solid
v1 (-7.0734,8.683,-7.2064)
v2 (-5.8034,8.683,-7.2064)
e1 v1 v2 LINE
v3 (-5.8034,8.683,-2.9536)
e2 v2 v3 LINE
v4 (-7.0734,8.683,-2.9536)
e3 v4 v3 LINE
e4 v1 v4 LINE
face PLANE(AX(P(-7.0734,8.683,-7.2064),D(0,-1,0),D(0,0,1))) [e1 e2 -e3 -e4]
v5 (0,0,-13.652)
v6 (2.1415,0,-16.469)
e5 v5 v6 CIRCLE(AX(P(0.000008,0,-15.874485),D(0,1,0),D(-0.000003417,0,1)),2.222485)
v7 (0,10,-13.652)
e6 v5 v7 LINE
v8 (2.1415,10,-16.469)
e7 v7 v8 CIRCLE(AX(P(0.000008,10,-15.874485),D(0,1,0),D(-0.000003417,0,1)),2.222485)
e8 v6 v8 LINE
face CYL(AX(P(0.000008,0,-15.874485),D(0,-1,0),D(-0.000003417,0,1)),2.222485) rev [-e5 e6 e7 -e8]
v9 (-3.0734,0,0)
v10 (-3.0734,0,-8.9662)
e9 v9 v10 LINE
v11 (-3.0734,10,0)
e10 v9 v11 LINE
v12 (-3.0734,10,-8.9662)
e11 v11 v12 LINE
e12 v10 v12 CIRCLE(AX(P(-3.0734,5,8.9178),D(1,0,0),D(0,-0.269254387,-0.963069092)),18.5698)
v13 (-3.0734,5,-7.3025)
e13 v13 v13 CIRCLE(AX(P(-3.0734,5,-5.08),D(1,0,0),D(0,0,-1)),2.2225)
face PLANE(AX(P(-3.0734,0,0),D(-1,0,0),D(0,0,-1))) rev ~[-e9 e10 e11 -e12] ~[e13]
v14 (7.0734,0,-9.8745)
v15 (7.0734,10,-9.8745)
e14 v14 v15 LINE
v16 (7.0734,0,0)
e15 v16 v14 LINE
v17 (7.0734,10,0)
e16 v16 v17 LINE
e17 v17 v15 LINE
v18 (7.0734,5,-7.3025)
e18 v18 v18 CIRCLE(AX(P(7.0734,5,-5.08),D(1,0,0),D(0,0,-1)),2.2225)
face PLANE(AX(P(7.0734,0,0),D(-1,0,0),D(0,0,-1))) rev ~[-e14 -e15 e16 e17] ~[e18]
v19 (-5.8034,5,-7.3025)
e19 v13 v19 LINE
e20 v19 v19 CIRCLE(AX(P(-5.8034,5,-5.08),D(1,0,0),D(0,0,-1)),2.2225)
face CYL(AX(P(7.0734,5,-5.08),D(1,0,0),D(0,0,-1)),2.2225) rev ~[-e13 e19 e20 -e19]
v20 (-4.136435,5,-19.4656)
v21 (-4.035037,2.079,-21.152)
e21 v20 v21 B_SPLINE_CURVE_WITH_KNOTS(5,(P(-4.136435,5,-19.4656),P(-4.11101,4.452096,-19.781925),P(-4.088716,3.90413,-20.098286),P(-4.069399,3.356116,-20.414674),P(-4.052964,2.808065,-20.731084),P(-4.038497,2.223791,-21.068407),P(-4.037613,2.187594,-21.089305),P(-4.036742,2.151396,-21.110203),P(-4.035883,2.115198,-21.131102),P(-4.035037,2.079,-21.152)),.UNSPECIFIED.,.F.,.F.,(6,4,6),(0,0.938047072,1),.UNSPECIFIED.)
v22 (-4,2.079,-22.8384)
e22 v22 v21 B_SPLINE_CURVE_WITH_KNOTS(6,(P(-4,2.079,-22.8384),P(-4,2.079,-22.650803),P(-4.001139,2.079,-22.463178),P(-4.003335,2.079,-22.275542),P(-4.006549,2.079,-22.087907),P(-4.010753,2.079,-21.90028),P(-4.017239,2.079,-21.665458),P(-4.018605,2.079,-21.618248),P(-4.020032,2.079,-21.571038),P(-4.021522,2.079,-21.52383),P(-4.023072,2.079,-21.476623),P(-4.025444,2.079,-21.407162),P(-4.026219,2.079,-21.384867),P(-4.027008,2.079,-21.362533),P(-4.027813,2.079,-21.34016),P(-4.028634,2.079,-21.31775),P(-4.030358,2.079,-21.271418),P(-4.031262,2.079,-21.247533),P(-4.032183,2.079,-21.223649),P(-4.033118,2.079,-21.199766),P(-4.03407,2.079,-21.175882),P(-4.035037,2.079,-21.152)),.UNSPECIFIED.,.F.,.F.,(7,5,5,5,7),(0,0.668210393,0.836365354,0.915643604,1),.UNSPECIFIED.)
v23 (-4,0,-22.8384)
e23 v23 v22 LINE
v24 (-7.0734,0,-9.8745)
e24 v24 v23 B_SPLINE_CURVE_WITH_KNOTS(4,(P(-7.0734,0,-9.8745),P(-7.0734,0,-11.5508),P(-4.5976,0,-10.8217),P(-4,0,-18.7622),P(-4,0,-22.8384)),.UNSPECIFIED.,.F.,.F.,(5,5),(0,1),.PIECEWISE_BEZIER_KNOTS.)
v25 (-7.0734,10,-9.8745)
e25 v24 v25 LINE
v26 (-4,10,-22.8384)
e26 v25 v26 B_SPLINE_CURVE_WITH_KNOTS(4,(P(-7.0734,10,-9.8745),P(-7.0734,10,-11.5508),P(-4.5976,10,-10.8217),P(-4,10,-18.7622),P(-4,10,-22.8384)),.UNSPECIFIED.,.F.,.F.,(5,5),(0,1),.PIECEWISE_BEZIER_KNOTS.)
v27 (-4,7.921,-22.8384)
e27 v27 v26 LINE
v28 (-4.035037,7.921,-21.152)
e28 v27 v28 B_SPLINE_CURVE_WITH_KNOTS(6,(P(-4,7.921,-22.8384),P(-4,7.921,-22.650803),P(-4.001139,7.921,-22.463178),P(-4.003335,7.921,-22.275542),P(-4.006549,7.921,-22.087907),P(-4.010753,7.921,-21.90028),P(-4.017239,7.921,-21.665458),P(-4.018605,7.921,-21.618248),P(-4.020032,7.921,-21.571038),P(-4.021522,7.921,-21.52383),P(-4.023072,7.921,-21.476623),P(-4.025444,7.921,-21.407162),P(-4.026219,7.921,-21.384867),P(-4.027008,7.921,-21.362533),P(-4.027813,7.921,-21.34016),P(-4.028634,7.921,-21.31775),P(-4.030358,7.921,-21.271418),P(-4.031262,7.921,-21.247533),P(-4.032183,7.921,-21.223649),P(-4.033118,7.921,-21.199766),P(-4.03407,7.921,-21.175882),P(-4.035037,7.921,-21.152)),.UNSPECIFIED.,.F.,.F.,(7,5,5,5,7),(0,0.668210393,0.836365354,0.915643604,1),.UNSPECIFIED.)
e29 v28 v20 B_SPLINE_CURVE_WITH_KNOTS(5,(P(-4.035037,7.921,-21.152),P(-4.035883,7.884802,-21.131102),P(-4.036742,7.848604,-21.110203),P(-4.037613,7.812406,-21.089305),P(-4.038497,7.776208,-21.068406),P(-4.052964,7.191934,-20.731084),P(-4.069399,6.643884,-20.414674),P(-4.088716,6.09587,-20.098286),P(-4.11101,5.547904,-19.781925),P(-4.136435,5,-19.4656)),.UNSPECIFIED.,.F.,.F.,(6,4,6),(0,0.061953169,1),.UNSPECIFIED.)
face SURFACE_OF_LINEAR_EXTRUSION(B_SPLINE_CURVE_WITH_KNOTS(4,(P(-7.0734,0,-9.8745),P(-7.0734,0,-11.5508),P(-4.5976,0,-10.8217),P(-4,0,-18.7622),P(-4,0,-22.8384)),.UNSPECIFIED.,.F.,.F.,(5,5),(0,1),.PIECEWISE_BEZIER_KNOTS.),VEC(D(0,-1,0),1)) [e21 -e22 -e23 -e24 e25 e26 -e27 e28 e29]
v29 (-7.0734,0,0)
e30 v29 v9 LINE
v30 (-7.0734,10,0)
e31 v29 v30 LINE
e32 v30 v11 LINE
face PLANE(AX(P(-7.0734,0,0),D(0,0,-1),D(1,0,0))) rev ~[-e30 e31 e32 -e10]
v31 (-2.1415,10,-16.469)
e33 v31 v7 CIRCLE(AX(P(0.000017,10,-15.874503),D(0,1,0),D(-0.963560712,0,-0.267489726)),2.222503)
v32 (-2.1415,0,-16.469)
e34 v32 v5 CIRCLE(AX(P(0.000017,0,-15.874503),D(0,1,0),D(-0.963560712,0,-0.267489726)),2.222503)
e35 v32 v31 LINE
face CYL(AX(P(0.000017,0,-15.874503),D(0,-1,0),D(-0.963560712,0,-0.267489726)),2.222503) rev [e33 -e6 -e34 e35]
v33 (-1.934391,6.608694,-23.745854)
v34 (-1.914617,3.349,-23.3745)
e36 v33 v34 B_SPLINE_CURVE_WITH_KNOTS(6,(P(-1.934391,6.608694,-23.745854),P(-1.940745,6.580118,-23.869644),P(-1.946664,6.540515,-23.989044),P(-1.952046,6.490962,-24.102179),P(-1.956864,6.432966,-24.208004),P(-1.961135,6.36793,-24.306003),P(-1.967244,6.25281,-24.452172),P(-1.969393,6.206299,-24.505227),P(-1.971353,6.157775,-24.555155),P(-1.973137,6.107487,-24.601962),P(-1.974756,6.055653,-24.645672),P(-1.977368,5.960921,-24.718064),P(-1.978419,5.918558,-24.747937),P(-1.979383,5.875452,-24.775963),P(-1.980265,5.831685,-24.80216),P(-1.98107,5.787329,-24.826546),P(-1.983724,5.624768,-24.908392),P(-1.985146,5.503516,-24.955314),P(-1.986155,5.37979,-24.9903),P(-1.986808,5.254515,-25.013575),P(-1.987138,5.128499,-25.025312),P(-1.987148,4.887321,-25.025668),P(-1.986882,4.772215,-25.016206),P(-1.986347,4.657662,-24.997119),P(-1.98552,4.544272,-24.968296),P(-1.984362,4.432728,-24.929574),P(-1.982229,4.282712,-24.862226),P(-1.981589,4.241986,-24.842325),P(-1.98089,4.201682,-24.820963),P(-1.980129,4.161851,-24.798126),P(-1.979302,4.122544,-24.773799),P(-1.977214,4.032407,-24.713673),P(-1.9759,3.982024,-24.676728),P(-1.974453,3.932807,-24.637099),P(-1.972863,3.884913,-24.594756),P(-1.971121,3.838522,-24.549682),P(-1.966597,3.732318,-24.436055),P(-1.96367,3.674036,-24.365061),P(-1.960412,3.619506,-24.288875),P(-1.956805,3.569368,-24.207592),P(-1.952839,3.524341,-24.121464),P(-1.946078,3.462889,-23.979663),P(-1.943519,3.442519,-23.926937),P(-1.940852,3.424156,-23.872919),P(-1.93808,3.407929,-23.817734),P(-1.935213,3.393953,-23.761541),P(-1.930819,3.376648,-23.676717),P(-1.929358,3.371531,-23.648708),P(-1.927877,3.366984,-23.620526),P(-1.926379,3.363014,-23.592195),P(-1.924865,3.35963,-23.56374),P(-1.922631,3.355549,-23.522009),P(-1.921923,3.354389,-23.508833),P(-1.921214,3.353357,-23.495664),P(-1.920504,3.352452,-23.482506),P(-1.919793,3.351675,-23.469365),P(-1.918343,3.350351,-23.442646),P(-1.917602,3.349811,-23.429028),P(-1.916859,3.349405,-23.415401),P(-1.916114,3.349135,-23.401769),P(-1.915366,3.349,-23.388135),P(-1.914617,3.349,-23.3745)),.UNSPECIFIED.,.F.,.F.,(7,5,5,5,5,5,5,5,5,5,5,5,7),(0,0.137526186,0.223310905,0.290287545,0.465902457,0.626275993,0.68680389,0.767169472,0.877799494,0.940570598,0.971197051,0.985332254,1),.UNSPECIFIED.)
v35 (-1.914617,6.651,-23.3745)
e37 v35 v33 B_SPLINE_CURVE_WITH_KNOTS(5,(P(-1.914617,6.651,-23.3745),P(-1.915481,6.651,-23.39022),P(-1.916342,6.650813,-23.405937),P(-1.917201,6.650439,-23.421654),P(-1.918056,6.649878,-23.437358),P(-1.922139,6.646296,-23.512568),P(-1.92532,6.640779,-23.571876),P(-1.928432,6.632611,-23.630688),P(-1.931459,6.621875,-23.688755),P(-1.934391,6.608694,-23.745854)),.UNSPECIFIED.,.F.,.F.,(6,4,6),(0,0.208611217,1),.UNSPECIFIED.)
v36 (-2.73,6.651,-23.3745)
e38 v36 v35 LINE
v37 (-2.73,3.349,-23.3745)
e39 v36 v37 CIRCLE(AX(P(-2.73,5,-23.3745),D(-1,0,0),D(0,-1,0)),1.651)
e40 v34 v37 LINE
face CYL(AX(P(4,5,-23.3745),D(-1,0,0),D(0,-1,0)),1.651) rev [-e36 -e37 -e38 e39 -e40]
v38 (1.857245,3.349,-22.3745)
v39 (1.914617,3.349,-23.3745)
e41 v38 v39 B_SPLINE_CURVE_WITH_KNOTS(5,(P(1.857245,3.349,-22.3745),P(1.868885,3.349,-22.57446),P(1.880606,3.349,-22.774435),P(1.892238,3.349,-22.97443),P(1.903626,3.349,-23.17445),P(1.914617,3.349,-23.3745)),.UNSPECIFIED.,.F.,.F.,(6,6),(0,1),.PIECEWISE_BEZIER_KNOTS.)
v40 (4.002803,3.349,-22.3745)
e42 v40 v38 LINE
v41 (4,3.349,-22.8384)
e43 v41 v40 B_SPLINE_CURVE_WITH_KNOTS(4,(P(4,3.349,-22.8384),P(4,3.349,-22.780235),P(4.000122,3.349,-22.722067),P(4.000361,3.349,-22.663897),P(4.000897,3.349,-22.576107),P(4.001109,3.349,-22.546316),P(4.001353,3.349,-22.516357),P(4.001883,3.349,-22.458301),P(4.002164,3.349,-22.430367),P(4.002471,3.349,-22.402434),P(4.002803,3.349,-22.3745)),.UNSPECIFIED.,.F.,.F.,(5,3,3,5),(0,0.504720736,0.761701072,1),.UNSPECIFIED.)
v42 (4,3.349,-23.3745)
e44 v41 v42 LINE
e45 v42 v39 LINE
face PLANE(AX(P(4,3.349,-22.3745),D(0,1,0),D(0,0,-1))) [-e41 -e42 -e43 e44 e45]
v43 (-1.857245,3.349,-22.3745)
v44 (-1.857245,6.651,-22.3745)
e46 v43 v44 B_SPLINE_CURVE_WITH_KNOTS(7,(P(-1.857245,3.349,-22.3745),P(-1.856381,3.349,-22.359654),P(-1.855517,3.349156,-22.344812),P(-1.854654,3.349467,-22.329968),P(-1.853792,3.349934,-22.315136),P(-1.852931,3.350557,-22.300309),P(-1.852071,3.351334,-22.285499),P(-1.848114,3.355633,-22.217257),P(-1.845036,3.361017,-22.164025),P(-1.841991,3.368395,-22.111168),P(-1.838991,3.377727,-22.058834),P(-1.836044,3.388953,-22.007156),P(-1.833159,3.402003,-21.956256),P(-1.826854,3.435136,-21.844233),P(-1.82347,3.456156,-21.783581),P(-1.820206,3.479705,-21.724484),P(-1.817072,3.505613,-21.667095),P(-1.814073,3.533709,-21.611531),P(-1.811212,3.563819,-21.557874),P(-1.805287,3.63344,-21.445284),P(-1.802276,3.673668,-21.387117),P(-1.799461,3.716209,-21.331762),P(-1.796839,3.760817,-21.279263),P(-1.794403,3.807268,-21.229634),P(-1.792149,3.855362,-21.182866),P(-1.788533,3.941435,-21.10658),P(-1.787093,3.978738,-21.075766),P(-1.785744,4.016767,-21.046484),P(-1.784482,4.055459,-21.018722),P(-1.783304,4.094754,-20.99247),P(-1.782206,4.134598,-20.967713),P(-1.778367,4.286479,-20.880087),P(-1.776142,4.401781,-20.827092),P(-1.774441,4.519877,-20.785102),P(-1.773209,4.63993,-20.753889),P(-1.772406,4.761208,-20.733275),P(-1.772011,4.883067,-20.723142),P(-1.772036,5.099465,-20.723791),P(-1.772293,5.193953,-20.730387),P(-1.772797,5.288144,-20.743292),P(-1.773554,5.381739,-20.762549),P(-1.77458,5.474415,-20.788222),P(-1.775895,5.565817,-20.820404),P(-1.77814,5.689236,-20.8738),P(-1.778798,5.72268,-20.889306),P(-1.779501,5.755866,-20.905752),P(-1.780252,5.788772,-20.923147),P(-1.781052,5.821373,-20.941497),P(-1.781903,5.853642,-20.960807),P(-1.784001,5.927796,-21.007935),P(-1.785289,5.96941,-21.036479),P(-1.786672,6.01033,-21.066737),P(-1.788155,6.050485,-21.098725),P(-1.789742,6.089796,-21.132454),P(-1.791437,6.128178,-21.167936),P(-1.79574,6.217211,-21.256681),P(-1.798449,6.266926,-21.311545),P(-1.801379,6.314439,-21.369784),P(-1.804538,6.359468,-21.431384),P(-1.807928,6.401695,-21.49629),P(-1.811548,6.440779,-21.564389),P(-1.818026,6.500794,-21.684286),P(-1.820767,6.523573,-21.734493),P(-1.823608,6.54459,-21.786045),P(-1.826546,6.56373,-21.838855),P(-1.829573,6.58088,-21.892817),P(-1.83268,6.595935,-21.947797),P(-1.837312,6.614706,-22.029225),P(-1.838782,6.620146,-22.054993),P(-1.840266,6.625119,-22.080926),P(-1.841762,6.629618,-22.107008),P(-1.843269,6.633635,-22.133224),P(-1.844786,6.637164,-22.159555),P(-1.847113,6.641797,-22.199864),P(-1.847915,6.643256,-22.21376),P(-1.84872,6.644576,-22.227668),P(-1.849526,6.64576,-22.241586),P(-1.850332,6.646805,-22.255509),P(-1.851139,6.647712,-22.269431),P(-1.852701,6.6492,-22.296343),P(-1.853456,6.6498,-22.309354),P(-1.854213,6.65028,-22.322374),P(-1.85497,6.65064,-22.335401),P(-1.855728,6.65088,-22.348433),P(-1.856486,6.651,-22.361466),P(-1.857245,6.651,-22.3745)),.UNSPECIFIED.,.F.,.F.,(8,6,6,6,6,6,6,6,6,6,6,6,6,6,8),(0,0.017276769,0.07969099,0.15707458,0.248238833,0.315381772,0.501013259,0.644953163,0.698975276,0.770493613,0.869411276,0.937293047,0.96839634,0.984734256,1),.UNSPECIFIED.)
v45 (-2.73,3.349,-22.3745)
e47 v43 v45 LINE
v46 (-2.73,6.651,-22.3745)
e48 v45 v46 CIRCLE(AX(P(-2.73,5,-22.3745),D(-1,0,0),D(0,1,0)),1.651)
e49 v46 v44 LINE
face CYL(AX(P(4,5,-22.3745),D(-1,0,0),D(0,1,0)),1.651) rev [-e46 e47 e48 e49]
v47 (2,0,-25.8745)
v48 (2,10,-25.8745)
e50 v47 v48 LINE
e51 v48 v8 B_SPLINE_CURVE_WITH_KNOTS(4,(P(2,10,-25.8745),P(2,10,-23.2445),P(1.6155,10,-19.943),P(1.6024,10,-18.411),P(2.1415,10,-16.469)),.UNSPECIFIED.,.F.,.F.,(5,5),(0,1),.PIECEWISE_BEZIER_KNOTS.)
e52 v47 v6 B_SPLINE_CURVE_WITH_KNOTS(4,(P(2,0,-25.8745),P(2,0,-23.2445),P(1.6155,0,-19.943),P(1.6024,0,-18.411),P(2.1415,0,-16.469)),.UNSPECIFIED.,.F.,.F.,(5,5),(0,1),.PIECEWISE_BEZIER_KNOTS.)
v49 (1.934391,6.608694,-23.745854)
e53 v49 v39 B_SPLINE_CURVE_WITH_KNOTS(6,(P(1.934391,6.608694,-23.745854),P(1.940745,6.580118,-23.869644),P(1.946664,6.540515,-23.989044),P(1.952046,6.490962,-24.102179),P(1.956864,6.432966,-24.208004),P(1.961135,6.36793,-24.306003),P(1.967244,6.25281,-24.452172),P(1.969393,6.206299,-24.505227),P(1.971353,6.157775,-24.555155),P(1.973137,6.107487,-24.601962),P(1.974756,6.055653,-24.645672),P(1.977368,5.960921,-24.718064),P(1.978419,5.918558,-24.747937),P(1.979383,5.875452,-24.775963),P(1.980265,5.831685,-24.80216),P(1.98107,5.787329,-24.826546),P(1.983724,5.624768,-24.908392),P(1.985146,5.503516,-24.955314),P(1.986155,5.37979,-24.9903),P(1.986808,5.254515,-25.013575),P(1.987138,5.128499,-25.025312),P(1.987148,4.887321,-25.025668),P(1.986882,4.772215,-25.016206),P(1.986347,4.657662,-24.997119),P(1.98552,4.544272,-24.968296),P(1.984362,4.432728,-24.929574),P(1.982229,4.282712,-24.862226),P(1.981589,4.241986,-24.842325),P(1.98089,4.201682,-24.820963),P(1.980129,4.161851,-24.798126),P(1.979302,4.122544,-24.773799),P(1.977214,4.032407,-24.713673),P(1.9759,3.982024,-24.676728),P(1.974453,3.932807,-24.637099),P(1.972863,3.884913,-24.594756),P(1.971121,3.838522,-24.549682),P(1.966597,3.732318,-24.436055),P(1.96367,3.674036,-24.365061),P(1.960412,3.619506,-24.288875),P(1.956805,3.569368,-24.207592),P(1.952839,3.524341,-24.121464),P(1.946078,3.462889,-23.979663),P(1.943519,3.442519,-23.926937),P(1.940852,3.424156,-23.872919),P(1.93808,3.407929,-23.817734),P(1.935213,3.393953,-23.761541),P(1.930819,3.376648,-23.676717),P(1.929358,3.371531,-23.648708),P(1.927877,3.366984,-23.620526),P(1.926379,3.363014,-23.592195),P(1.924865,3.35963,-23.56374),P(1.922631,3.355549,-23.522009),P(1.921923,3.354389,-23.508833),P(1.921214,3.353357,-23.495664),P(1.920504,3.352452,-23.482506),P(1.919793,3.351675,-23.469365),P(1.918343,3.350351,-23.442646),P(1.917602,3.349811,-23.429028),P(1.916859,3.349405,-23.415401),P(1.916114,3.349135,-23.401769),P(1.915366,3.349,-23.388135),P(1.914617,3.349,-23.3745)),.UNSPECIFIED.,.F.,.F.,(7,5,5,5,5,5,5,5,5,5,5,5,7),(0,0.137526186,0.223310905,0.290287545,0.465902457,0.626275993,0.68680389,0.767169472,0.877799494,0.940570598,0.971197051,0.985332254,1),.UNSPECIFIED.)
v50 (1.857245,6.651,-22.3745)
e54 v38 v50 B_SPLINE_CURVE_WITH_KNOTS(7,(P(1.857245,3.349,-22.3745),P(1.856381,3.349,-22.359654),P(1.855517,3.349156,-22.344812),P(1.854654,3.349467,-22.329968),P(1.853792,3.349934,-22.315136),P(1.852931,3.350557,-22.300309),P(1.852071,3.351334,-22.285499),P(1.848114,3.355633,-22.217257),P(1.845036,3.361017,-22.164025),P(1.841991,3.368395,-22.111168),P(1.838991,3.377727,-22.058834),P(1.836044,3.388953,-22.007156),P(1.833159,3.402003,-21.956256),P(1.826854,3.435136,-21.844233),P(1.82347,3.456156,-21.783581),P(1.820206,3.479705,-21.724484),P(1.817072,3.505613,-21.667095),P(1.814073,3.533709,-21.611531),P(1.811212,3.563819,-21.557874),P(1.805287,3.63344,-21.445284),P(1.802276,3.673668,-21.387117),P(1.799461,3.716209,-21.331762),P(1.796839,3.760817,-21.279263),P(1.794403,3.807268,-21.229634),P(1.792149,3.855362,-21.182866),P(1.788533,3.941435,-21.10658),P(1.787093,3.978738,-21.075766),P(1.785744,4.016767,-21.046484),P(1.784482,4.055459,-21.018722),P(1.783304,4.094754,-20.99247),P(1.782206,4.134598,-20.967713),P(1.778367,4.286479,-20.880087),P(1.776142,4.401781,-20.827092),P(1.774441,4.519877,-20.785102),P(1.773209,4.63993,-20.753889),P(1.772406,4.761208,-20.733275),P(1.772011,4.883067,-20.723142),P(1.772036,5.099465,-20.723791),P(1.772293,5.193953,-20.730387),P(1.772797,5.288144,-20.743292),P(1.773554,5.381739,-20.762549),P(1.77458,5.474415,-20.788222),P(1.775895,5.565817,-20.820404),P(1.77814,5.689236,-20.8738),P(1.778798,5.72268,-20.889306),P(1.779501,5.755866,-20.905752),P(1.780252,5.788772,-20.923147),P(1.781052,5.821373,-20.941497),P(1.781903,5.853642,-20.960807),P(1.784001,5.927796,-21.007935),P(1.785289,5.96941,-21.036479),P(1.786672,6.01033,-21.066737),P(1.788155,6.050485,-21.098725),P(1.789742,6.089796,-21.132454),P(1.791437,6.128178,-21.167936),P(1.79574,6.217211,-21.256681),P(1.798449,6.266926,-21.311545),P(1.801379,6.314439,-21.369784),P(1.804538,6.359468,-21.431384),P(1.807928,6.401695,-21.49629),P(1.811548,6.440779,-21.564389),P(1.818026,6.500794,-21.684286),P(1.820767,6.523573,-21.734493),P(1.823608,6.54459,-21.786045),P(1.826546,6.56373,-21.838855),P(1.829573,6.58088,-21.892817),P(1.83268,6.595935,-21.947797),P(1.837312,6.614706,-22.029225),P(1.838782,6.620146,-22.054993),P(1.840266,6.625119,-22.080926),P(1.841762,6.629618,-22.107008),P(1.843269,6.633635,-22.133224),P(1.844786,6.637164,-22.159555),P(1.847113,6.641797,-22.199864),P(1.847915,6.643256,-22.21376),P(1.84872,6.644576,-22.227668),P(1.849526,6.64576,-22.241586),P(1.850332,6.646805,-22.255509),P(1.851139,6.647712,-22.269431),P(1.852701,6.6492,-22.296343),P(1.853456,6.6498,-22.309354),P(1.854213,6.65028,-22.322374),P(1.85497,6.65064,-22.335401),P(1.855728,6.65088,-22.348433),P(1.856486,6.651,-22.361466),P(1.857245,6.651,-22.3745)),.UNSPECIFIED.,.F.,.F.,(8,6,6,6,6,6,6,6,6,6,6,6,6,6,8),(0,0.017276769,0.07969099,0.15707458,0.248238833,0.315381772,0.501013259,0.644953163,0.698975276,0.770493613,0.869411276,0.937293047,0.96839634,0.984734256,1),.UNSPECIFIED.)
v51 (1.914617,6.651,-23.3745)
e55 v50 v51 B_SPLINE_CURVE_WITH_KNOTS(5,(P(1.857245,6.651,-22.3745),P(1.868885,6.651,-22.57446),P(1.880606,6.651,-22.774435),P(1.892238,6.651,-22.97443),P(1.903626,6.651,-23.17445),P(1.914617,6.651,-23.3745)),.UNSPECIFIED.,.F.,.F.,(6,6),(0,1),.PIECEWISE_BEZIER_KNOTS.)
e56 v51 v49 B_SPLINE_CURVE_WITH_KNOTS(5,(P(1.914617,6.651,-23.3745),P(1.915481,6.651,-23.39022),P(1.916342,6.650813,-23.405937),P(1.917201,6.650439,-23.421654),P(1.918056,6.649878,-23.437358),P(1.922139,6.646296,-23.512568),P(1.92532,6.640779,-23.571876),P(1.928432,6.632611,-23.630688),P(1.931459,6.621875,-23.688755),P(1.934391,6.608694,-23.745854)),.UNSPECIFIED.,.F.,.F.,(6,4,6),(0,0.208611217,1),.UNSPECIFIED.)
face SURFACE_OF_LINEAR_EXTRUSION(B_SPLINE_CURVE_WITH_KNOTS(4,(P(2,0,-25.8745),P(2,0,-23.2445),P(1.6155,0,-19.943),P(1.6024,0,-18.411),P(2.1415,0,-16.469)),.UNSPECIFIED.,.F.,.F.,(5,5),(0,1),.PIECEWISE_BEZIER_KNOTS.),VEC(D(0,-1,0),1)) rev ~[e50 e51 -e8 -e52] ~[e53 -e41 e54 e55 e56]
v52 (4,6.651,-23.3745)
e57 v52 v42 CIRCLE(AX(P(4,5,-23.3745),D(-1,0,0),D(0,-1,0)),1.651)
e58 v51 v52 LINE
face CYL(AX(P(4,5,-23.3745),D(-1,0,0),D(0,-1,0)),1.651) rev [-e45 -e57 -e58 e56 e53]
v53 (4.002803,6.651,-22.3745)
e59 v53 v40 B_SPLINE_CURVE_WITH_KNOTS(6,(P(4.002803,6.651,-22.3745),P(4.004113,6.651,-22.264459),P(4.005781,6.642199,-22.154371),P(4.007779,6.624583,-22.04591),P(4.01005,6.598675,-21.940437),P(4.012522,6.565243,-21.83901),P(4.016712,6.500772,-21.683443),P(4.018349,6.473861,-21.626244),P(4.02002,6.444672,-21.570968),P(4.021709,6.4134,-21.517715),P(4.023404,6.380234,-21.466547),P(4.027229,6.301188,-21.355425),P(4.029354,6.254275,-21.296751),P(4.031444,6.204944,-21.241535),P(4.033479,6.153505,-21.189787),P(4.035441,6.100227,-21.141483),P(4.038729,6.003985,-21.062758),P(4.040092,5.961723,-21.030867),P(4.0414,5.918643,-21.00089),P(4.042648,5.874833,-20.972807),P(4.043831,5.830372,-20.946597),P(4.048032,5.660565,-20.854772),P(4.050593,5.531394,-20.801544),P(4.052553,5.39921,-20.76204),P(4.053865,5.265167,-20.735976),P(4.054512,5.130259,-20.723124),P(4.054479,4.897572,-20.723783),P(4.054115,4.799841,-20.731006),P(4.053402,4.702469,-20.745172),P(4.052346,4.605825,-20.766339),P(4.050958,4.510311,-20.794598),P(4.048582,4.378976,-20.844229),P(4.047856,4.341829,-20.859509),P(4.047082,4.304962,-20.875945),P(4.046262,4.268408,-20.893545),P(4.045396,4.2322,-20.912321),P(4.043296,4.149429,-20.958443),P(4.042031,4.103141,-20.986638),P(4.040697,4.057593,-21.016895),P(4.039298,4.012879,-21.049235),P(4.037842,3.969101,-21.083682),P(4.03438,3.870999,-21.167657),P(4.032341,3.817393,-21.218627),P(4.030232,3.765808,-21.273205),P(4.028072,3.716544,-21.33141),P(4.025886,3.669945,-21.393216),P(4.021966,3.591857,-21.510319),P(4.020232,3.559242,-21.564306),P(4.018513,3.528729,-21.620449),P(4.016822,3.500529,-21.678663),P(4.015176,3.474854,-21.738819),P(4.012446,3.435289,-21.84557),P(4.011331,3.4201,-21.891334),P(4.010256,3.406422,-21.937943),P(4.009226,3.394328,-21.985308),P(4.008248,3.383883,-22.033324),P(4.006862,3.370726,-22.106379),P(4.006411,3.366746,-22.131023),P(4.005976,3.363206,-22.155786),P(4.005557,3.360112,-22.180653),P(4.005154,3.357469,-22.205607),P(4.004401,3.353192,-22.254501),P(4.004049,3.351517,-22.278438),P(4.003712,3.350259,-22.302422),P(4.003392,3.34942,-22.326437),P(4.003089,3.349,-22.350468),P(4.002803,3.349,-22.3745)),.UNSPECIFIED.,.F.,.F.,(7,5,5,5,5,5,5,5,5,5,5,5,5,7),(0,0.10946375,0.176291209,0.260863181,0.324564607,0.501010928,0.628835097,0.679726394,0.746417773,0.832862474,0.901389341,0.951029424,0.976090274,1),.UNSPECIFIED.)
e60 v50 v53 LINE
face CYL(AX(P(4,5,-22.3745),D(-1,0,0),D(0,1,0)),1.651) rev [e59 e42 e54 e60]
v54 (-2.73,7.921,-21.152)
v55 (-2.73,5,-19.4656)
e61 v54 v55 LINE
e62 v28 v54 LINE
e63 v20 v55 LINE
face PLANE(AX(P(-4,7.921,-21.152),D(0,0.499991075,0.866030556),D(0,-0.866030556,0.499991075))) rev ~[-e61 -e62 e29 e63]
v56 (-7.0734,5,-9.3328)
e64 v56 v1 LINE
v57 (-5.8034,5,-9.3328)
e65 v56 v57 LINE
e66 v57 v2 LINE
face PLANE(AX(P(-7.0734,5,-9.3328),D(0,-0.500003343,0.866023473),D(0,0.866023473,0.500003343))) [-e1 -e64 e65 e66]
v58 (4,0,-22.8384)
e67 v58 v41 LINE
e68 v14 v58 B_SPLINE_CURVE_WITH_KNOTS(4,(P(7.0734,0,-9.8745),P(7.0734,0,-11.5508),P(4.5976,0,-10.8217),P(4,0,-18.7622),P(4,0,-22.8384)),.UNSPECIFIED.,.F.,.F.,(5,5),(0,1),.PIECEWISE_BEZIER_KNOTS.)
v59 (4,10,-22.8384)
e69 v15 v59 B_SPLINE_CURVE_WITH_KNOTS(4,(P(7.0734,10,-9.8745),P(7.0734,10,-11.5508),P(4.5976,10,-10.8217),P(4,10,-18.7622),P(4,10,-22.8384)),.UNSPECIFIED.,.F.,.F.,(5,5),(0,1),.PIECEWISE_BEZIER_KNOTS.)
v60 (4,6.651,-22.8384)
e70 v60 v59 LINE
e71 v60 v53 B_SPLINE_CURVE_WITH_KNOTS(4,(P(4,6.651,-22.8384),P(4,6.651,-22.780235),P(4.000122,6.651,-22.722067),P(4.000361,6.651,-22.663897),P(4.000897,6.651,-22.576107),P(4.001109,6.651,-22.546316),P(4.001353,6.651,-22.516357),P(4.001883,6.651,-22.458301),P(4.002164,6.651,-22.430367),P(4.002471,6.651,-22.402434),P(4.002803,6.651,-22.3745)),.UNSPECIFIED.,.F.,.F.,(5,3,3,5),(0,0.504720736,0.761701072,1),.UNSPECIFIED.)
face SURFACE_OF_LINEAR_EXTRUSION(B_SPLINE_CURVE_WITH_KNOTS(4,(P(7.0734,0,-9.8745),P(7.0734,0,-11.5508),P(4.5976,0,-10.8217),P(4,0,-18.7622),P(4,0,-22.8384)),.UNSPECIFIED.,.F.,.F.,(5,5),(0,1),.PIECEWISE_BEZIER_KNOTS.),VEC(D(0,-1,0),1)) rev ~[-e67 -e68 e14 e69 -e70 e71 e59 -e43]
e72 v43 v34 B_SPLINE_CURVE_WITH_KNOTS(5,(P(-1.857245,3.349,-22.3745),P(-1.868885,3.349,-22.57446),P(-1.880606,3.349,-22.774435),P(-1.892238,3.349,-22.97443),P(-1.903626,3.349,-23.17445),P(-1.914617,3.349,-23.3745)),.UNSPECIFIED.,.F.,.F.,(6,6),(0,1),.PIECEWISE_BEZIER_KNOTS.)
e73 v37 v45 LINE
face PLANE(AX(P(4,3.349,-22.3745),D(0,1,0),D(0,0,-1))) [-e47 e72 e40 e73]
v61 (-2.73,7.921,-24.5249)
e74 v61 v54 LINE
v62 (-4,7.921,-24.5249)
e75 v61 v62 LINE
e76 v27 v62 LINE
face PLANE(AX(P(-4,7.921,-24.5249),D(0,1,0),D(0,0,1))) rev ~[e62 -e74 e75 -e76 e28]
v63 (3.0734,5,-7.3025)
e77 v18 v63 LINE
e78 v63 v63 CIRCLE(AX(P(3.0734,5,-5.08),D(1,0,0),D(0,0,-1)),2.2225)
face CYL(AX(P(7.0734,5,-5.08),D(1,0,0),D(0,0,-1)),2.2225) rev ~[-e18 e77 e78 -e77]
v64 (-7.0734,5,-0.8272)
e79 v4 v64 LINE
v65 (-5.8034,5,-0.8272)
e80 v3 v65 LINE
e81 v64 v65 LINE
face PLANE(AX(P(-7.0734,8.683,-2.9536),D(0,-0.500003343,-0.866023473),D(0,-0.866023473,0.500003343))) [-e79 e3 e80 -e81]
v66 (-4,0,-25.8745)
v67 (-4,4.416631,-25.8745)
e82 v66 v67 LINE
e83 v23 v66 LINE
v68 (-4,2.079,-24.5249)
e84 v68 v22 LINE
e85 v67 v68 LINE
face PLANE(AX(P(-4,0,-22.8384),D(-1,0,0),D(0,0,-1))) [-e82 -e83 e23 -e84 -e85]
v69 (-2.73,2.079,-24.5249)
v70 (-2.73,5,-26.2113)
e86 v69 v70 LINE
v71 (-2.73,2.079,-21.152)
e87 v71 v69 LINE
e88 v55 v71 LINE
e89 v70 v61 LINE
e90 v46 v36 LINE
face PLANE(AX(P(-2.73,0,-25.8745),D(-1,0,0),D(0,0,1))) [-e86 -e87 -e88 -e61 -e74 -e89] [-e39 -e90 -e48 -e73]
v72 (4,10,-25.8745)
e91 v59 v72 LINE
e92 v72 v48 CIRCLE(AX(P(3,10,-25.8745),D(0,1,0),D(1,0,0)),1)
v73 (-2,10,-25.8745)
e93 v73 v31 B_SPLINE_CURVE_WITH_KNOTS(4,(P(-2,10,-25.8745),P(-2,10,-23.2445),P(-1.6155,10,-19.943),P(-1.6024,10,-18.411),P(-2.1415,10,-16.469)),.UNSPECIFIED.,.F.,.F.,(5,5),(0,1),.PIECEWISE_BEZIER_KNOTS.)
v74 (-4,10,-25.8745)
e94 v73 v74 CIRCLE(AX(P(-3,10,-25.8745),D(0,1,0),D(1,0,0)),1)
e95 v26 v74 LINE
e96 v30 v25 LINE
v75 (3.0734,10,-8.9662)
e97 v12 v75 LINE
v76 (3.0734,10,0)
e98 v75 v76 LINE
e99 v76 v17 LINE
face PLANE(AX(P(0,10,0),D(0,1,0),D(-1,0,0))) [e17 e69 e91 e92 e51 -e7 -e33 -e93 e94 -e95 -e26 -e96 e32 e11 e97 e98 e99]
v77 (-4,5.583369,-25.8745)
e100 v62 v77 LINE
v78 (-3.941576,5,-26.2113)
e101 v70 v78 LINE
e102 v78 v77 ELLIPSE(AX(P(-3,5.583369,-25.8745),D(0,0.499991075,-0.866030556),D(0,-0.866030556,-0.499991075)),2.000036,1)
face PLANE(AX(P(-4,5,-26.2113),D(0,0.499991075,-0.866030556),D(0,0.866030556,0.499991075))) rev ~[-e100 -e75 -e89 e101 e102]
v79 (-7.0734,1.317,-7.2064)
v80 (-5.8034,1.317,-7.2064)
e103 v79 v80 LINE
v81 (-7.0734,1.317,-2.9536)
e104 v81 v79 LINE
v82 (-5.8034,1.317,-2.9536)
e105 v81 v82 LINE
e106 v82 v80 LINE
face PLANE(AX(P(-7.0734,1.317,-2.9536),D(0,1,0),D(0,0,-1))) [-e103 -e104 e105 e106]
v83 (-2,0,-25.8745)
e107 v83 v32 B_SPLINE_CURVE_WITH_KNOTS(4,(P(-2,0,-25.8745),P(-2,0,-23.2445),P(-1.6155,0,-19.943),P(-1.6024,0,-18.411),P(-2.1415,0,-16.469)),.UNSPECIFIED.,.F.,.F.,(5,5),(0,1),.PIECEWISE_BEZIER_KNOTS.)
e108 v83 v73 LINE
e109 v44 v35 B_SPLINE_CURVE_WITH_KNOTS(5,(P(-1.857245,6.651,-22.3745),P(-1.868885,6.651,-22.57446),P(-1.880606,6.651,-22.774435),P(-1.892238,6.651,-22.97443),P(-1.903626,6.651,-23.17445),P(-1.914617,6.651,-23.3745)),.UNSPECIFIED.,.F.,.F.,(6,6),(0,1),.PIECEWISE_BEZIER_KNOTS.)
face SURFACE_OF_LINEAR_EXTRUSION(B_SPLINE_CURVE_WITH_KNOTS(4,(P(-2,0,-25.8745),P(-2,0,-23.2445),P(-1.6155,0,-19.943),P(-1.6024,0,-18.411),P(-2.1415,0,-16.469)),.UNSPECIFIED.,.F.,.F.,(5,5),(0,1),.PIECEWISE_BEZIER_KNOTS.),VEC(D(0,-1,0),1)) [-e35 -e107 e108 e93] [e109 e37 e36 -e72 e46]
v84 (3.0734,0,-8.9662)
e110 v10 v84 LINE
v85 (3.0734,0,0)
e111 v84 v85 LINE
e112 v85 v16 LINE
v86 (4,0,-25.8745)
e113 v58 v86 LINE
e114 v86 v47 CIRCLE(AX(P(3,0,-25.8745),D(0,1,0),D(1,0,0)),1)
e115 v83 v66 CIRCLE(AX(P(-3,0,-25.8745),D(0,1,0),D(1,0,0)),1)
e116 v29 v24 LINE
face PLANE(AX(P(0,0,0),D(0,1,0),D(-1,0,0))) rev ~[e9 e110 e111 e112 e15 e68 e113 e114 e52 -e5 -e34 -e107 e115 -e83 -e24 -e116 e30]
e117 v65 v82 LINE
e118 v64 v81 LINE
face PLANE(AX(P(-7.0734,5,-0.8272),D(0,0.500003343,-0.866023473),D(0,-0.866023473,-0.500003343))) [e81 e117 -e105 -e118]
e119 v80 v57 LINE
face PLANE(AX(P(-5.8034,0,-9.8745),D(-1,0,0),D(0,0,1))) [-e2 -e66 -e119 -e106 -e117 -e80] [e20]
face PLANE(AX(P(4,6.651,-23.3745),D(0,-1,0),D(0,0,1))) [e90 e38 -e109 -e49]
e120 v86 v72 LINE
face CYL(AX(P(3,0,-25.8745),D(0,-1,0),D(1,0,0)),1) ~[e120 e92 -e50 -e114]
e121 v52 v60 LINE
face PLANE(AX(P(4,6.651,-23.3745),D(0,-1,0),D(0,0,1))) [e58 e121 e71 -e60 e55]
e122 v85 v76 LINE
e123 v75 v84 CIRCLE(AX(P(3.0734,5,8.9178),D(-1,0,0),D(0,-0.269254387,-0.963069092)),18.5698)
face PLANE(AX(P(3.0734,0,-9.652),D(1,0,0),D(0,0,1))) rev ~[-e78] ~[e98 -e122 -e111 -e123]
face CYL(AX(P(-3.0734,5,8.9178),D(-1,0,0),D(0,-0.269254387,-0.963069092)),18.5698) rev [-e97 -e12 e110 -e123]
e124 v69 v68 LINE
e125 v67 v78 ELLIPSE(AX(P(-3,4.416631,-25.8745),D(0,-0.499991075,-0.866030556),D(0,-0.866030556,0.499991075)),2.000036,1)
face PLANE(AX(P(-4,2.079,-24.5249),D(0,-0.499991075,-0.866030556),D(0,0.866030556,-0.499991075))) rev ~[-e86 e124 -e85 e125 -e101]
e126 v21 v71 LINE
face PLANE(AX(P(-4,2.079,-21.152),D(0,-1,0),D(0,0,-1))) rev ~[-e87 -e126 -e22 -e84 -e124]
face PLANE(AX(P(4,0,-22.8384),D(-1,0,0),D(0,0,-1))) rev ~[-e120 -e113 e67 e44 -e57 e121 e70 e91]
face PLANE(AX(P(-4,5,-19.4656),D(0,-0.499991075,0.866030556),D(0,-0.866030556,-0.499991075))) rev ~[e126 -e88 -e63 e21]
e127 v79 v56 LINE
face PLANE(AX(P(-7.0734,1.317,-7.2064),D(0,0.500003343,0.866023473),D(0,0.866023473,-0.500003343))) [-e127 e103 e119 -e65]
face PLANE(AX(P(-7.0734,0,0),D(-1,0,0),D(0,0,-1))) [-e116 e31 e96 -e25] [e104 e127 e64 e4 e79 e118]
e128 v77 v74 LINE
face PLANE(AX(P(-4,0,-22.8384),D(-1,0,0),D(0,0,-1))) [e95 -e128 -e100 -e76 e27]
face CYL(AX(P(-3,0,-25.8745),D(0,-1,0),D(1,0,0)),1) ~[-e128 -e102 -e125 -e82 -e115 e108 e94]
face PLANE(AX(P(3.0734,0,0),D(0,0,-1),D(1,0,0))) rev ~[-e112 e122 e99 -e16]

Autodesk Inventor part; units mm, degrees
ref_plane "YZ Plane" through (0, 0, 0) normal (1, 0, 0) x (0, 1, 0)
ref_plane "XZ Plane" through (0, 0, 0) normal (0, 1, 0) x (-1, 0, 0)
ref_plane "XY Plane" through (0, 0, 0) normal (0, 0, 1) x (1, 0, 0)
sketch "Sketch1" plane through (0, 0, 0) normal (0, 1, 0) x (-1, 0, 0)
  arc A0 (2.1415, -16.469) -> (0, -13.652) centre (0, -15.8745) ccw
  line L0 (7.0734, 0) -> (7.0734, -9.8745)
  line L1 (0, 0.4443) -> (0, -21.7427) construction
  line L2 (-7.0734, 0) -> (-7.0734, -9.8745)
  arc A1 (0, -13.652) -> (-2.1415, -16.469) centre (0, -15.8745) ccw
  line L3 (4, -22.8384) -> (4, -25.8745)
  line L4 (-4, -22.8384) -> (-4, -25.8745)
  arc A2 (2, -25.8745) -> (4, -25.8745) centre (3, -25.8745) ccw
  arc A3 (-4, -25.8745) -> (-2, -25.8745) centre (-3, -25.8745) ccw
  line L5 (3.0734, 0) -> (3.0734, -9.652)
  line L6 (3.0734, -9.652) -> (-3.0734, -9.652)
  line L7 (-3.0734, -9.652) -> (-3.0734, 0)
  line L8 (7.0734, 0) -> (3.0734, 0)
  line L9 (-3.0734, 0) -> (-7.0734, 0)
  spline S0 degree 4 poles (2, -25.8745) (2, -23.2445) (1.6155, -19.943) (1.6024, -18.411) (2.1415, -16.469) knots 0 0 0 0 0 1 1 1 1 1
  spline S1 degree 4 poles (-2, -25.8745) (-2, -23.2445) (-1.6155, -19.943) (-1.6024, -18.411) (-2.1415, -16.469) knots 0 0 0 0 0 1 1 1 1 1
  spline S2 degree 4 poles (7.0734, -9.8745) (7.0734, -11.5508) (4.5976, -10.8217) (4, -18.7622) (4, -22.8384) knots 0 0 0 0 0 1 1 1 1 1
  spline S3 degree 4 poles (-7.0734, -9.8745) (-7.0734, -11.5508) (-4.5976, -10.8217) (-4, -18.7622) (-4, -22.8384) knots 0 0 0 0 0 1 1 1 1 1
  point P0 (0, 0)
  point P1 (0, -9.652)
  point P2 (1.75, -19.9116)
  point P3 (-1.75, -19.9116)
  point P4 (6.2466, -11.4624)
  point P5 (-6.2466, -11.4624)
  dimension "d6" = 6
  dimension "d7" = 1
  dimension "d8" = 2.2225
  dimension "d19" = 9.652
  dimension "d20" = 6.1468
  dimension "d27" = 4
  dimension "d31" = 4
  dimension "d34" = 3.5
  dimension "d35" = 10
  dimension "d37" = 4
extrude "Extrusion1" add sketch "Sketch1" along normal blind 10
sketch "Sketch2" plane through (7.0734, 0, 0) normal (1, 0, 0) x (0, 0, -1)
  circle A0 centre (5.08, 5) radius 2.2225
  line L0 (0, 10) -> (9.8745, 10) projected
  line L1 (0, 0) -> (0, 10) projected
  point P0 (9.652, 10)
  dimension "d14" = 4.445
  dimension "d15" = 5
  dimension "d32" = 4.572
extrude "Extrusion2" cut sketch "Sketch2" against normal blind 15
sketch "Sketch3" plane through (4, 0, -22.8384) normal (1, 0, 0) x (0, 0, -1)
  circle A0 centre (-17.7584, 5) radius 2.2225 projected
  line L0 (3.0361, 0) -> (3.0361, 10) projected
  line L1 (0.0361, 5) -> (1.518, 10) construction
  line L2 (3.0361, 10) -> (0, 10) construction
  line L3 (0.5361, 5) -> (-0.4639, 5) construction
  line L4 (0.5361, 6.651) -> (-0.4639, 6.651)
  line L5 (-0.4639, 3.349) -> (0.5361, 3.349)
  arc A1 (0.5361, 3.349) -> (0.5361, 6.651) centre (0.5361, 5) ccw
  arc A2 (-0.4639, 6.651) -> (-0.4639, 3.349) centre (-0.4639, 5) ccw
  point P0 (-22.8384, 0)
  dimension "d21" = 3
  dimension "d24" = 1
  dimension "d30" = 1.651
extrude "Extrusion3" cut sketch "Sketch3" along normal mid plane 20 contours A1 L5 A2 L4
sketch "Sketch4" plane through (-7.0734, 0, -9.8745) normal (-1, 0, 0) x (0, 0, 1)
  line L0 (0, 0) -> (9.8745, 0) projected
  line L1 (9.8745, 0) -> (9.8745, 10) projected
  line L2 (0, 10) -> (9.8745, 10) projected
  line L3 (0, 0) -> (0, 10) projected
  circle A0 centre (4.7945, 5) radius 2.2225 projected
  line L4 (6.9209, 8.683) -> (9.0473, 5)
  line L5 (9.0473, 5) -> (6.9209, 1.317)
  line L6 (6.9209, 1.317) -> (2.6681, 1.317)
  line L7 (2.6681, 1.317) -> (0.5417, 5)
  line L8 (0.5417, 5) -> (2.6681, 8.683)
  line L9 (2.6681, 8.683) -> (6.9209, 8.683)
  dimension "d25" = 7.366
extrude "Extrusion4" cut sketch "Sketch4" against normal blind 1.27 contours A0 | L4 L5 L6 L7 L8 L9
sketch "Sketch5" plane through (-4, 0, -25.8745) normal (-1, 0, 0) x (0, 0, 1)
  line L0 (1.3496, 7.921) -> (4.7225, 7.921)
  line L1 (4.7225, 7.921) -> (6.4089, 5)
  line L2 (6.4089, 5) -> (4.7225, 2.079)
  line L3 (4.7225, 2.079) -> (1.3496, 2.079)
  line L4 (1.3496, 2.079) -> (-0.3368, 5)
  line L5 (-0.3368, 5) -> (1.3496, 7.921)
  arc A0 (2.5, 6.651) -> (2.5, 3.349) centre (2.5, 5) ccw projected
  point P0 (25.8745, 0)
  point P1 (3.0361, 5)
  point P2 (3.5, 6.651)
  point P3 (3.5, 3.349)
  point P4 (3.0361, 6.651)
  point P5 (3.0361, 3.349)
  dimension "d38" = 5.842
extrude "Extrusion5" cut sketch "Sketch5" along normal mid plane 2.54
sketch "Sketch6" plane through (-3.0734, 0, 0) normal (1, 0, 0) x (0, 0, -1)
  line L0 (9.652, 0) -> (0, 0) projected
  line L1 (9.652, 10) -> (0, 10) projected
  arc A0 (8.9662, 0) -> (8.9662, 10) centre (-8.9178, 5) ccw
  line L2 (0, 10) -> (9.8745, 10) projected
  line L3 (9.8745, 0) -> (9.8745, 10) projected
  line L4 (0, 0) -> (9.8745, 0) projected
  line L5 (9.652, 0) -> (9.652, 10) projected
  point P0 (9.652, 5)
  point P1 (9.652, 4.8706)
  dimension "d41" = 0.6858
  dimension "d44" = 0.6858
extrude "Extrusion6" add sketch "Sketch6" along normal blind 10
equation "\"TUBE\" = 4.445"
equation "\"SCREW\" = 3.302"
equation "\"HEX\" = 5.842"
equation "\"HEX_DEPTH\" = 1.27"
properties part number "SlideClip"
